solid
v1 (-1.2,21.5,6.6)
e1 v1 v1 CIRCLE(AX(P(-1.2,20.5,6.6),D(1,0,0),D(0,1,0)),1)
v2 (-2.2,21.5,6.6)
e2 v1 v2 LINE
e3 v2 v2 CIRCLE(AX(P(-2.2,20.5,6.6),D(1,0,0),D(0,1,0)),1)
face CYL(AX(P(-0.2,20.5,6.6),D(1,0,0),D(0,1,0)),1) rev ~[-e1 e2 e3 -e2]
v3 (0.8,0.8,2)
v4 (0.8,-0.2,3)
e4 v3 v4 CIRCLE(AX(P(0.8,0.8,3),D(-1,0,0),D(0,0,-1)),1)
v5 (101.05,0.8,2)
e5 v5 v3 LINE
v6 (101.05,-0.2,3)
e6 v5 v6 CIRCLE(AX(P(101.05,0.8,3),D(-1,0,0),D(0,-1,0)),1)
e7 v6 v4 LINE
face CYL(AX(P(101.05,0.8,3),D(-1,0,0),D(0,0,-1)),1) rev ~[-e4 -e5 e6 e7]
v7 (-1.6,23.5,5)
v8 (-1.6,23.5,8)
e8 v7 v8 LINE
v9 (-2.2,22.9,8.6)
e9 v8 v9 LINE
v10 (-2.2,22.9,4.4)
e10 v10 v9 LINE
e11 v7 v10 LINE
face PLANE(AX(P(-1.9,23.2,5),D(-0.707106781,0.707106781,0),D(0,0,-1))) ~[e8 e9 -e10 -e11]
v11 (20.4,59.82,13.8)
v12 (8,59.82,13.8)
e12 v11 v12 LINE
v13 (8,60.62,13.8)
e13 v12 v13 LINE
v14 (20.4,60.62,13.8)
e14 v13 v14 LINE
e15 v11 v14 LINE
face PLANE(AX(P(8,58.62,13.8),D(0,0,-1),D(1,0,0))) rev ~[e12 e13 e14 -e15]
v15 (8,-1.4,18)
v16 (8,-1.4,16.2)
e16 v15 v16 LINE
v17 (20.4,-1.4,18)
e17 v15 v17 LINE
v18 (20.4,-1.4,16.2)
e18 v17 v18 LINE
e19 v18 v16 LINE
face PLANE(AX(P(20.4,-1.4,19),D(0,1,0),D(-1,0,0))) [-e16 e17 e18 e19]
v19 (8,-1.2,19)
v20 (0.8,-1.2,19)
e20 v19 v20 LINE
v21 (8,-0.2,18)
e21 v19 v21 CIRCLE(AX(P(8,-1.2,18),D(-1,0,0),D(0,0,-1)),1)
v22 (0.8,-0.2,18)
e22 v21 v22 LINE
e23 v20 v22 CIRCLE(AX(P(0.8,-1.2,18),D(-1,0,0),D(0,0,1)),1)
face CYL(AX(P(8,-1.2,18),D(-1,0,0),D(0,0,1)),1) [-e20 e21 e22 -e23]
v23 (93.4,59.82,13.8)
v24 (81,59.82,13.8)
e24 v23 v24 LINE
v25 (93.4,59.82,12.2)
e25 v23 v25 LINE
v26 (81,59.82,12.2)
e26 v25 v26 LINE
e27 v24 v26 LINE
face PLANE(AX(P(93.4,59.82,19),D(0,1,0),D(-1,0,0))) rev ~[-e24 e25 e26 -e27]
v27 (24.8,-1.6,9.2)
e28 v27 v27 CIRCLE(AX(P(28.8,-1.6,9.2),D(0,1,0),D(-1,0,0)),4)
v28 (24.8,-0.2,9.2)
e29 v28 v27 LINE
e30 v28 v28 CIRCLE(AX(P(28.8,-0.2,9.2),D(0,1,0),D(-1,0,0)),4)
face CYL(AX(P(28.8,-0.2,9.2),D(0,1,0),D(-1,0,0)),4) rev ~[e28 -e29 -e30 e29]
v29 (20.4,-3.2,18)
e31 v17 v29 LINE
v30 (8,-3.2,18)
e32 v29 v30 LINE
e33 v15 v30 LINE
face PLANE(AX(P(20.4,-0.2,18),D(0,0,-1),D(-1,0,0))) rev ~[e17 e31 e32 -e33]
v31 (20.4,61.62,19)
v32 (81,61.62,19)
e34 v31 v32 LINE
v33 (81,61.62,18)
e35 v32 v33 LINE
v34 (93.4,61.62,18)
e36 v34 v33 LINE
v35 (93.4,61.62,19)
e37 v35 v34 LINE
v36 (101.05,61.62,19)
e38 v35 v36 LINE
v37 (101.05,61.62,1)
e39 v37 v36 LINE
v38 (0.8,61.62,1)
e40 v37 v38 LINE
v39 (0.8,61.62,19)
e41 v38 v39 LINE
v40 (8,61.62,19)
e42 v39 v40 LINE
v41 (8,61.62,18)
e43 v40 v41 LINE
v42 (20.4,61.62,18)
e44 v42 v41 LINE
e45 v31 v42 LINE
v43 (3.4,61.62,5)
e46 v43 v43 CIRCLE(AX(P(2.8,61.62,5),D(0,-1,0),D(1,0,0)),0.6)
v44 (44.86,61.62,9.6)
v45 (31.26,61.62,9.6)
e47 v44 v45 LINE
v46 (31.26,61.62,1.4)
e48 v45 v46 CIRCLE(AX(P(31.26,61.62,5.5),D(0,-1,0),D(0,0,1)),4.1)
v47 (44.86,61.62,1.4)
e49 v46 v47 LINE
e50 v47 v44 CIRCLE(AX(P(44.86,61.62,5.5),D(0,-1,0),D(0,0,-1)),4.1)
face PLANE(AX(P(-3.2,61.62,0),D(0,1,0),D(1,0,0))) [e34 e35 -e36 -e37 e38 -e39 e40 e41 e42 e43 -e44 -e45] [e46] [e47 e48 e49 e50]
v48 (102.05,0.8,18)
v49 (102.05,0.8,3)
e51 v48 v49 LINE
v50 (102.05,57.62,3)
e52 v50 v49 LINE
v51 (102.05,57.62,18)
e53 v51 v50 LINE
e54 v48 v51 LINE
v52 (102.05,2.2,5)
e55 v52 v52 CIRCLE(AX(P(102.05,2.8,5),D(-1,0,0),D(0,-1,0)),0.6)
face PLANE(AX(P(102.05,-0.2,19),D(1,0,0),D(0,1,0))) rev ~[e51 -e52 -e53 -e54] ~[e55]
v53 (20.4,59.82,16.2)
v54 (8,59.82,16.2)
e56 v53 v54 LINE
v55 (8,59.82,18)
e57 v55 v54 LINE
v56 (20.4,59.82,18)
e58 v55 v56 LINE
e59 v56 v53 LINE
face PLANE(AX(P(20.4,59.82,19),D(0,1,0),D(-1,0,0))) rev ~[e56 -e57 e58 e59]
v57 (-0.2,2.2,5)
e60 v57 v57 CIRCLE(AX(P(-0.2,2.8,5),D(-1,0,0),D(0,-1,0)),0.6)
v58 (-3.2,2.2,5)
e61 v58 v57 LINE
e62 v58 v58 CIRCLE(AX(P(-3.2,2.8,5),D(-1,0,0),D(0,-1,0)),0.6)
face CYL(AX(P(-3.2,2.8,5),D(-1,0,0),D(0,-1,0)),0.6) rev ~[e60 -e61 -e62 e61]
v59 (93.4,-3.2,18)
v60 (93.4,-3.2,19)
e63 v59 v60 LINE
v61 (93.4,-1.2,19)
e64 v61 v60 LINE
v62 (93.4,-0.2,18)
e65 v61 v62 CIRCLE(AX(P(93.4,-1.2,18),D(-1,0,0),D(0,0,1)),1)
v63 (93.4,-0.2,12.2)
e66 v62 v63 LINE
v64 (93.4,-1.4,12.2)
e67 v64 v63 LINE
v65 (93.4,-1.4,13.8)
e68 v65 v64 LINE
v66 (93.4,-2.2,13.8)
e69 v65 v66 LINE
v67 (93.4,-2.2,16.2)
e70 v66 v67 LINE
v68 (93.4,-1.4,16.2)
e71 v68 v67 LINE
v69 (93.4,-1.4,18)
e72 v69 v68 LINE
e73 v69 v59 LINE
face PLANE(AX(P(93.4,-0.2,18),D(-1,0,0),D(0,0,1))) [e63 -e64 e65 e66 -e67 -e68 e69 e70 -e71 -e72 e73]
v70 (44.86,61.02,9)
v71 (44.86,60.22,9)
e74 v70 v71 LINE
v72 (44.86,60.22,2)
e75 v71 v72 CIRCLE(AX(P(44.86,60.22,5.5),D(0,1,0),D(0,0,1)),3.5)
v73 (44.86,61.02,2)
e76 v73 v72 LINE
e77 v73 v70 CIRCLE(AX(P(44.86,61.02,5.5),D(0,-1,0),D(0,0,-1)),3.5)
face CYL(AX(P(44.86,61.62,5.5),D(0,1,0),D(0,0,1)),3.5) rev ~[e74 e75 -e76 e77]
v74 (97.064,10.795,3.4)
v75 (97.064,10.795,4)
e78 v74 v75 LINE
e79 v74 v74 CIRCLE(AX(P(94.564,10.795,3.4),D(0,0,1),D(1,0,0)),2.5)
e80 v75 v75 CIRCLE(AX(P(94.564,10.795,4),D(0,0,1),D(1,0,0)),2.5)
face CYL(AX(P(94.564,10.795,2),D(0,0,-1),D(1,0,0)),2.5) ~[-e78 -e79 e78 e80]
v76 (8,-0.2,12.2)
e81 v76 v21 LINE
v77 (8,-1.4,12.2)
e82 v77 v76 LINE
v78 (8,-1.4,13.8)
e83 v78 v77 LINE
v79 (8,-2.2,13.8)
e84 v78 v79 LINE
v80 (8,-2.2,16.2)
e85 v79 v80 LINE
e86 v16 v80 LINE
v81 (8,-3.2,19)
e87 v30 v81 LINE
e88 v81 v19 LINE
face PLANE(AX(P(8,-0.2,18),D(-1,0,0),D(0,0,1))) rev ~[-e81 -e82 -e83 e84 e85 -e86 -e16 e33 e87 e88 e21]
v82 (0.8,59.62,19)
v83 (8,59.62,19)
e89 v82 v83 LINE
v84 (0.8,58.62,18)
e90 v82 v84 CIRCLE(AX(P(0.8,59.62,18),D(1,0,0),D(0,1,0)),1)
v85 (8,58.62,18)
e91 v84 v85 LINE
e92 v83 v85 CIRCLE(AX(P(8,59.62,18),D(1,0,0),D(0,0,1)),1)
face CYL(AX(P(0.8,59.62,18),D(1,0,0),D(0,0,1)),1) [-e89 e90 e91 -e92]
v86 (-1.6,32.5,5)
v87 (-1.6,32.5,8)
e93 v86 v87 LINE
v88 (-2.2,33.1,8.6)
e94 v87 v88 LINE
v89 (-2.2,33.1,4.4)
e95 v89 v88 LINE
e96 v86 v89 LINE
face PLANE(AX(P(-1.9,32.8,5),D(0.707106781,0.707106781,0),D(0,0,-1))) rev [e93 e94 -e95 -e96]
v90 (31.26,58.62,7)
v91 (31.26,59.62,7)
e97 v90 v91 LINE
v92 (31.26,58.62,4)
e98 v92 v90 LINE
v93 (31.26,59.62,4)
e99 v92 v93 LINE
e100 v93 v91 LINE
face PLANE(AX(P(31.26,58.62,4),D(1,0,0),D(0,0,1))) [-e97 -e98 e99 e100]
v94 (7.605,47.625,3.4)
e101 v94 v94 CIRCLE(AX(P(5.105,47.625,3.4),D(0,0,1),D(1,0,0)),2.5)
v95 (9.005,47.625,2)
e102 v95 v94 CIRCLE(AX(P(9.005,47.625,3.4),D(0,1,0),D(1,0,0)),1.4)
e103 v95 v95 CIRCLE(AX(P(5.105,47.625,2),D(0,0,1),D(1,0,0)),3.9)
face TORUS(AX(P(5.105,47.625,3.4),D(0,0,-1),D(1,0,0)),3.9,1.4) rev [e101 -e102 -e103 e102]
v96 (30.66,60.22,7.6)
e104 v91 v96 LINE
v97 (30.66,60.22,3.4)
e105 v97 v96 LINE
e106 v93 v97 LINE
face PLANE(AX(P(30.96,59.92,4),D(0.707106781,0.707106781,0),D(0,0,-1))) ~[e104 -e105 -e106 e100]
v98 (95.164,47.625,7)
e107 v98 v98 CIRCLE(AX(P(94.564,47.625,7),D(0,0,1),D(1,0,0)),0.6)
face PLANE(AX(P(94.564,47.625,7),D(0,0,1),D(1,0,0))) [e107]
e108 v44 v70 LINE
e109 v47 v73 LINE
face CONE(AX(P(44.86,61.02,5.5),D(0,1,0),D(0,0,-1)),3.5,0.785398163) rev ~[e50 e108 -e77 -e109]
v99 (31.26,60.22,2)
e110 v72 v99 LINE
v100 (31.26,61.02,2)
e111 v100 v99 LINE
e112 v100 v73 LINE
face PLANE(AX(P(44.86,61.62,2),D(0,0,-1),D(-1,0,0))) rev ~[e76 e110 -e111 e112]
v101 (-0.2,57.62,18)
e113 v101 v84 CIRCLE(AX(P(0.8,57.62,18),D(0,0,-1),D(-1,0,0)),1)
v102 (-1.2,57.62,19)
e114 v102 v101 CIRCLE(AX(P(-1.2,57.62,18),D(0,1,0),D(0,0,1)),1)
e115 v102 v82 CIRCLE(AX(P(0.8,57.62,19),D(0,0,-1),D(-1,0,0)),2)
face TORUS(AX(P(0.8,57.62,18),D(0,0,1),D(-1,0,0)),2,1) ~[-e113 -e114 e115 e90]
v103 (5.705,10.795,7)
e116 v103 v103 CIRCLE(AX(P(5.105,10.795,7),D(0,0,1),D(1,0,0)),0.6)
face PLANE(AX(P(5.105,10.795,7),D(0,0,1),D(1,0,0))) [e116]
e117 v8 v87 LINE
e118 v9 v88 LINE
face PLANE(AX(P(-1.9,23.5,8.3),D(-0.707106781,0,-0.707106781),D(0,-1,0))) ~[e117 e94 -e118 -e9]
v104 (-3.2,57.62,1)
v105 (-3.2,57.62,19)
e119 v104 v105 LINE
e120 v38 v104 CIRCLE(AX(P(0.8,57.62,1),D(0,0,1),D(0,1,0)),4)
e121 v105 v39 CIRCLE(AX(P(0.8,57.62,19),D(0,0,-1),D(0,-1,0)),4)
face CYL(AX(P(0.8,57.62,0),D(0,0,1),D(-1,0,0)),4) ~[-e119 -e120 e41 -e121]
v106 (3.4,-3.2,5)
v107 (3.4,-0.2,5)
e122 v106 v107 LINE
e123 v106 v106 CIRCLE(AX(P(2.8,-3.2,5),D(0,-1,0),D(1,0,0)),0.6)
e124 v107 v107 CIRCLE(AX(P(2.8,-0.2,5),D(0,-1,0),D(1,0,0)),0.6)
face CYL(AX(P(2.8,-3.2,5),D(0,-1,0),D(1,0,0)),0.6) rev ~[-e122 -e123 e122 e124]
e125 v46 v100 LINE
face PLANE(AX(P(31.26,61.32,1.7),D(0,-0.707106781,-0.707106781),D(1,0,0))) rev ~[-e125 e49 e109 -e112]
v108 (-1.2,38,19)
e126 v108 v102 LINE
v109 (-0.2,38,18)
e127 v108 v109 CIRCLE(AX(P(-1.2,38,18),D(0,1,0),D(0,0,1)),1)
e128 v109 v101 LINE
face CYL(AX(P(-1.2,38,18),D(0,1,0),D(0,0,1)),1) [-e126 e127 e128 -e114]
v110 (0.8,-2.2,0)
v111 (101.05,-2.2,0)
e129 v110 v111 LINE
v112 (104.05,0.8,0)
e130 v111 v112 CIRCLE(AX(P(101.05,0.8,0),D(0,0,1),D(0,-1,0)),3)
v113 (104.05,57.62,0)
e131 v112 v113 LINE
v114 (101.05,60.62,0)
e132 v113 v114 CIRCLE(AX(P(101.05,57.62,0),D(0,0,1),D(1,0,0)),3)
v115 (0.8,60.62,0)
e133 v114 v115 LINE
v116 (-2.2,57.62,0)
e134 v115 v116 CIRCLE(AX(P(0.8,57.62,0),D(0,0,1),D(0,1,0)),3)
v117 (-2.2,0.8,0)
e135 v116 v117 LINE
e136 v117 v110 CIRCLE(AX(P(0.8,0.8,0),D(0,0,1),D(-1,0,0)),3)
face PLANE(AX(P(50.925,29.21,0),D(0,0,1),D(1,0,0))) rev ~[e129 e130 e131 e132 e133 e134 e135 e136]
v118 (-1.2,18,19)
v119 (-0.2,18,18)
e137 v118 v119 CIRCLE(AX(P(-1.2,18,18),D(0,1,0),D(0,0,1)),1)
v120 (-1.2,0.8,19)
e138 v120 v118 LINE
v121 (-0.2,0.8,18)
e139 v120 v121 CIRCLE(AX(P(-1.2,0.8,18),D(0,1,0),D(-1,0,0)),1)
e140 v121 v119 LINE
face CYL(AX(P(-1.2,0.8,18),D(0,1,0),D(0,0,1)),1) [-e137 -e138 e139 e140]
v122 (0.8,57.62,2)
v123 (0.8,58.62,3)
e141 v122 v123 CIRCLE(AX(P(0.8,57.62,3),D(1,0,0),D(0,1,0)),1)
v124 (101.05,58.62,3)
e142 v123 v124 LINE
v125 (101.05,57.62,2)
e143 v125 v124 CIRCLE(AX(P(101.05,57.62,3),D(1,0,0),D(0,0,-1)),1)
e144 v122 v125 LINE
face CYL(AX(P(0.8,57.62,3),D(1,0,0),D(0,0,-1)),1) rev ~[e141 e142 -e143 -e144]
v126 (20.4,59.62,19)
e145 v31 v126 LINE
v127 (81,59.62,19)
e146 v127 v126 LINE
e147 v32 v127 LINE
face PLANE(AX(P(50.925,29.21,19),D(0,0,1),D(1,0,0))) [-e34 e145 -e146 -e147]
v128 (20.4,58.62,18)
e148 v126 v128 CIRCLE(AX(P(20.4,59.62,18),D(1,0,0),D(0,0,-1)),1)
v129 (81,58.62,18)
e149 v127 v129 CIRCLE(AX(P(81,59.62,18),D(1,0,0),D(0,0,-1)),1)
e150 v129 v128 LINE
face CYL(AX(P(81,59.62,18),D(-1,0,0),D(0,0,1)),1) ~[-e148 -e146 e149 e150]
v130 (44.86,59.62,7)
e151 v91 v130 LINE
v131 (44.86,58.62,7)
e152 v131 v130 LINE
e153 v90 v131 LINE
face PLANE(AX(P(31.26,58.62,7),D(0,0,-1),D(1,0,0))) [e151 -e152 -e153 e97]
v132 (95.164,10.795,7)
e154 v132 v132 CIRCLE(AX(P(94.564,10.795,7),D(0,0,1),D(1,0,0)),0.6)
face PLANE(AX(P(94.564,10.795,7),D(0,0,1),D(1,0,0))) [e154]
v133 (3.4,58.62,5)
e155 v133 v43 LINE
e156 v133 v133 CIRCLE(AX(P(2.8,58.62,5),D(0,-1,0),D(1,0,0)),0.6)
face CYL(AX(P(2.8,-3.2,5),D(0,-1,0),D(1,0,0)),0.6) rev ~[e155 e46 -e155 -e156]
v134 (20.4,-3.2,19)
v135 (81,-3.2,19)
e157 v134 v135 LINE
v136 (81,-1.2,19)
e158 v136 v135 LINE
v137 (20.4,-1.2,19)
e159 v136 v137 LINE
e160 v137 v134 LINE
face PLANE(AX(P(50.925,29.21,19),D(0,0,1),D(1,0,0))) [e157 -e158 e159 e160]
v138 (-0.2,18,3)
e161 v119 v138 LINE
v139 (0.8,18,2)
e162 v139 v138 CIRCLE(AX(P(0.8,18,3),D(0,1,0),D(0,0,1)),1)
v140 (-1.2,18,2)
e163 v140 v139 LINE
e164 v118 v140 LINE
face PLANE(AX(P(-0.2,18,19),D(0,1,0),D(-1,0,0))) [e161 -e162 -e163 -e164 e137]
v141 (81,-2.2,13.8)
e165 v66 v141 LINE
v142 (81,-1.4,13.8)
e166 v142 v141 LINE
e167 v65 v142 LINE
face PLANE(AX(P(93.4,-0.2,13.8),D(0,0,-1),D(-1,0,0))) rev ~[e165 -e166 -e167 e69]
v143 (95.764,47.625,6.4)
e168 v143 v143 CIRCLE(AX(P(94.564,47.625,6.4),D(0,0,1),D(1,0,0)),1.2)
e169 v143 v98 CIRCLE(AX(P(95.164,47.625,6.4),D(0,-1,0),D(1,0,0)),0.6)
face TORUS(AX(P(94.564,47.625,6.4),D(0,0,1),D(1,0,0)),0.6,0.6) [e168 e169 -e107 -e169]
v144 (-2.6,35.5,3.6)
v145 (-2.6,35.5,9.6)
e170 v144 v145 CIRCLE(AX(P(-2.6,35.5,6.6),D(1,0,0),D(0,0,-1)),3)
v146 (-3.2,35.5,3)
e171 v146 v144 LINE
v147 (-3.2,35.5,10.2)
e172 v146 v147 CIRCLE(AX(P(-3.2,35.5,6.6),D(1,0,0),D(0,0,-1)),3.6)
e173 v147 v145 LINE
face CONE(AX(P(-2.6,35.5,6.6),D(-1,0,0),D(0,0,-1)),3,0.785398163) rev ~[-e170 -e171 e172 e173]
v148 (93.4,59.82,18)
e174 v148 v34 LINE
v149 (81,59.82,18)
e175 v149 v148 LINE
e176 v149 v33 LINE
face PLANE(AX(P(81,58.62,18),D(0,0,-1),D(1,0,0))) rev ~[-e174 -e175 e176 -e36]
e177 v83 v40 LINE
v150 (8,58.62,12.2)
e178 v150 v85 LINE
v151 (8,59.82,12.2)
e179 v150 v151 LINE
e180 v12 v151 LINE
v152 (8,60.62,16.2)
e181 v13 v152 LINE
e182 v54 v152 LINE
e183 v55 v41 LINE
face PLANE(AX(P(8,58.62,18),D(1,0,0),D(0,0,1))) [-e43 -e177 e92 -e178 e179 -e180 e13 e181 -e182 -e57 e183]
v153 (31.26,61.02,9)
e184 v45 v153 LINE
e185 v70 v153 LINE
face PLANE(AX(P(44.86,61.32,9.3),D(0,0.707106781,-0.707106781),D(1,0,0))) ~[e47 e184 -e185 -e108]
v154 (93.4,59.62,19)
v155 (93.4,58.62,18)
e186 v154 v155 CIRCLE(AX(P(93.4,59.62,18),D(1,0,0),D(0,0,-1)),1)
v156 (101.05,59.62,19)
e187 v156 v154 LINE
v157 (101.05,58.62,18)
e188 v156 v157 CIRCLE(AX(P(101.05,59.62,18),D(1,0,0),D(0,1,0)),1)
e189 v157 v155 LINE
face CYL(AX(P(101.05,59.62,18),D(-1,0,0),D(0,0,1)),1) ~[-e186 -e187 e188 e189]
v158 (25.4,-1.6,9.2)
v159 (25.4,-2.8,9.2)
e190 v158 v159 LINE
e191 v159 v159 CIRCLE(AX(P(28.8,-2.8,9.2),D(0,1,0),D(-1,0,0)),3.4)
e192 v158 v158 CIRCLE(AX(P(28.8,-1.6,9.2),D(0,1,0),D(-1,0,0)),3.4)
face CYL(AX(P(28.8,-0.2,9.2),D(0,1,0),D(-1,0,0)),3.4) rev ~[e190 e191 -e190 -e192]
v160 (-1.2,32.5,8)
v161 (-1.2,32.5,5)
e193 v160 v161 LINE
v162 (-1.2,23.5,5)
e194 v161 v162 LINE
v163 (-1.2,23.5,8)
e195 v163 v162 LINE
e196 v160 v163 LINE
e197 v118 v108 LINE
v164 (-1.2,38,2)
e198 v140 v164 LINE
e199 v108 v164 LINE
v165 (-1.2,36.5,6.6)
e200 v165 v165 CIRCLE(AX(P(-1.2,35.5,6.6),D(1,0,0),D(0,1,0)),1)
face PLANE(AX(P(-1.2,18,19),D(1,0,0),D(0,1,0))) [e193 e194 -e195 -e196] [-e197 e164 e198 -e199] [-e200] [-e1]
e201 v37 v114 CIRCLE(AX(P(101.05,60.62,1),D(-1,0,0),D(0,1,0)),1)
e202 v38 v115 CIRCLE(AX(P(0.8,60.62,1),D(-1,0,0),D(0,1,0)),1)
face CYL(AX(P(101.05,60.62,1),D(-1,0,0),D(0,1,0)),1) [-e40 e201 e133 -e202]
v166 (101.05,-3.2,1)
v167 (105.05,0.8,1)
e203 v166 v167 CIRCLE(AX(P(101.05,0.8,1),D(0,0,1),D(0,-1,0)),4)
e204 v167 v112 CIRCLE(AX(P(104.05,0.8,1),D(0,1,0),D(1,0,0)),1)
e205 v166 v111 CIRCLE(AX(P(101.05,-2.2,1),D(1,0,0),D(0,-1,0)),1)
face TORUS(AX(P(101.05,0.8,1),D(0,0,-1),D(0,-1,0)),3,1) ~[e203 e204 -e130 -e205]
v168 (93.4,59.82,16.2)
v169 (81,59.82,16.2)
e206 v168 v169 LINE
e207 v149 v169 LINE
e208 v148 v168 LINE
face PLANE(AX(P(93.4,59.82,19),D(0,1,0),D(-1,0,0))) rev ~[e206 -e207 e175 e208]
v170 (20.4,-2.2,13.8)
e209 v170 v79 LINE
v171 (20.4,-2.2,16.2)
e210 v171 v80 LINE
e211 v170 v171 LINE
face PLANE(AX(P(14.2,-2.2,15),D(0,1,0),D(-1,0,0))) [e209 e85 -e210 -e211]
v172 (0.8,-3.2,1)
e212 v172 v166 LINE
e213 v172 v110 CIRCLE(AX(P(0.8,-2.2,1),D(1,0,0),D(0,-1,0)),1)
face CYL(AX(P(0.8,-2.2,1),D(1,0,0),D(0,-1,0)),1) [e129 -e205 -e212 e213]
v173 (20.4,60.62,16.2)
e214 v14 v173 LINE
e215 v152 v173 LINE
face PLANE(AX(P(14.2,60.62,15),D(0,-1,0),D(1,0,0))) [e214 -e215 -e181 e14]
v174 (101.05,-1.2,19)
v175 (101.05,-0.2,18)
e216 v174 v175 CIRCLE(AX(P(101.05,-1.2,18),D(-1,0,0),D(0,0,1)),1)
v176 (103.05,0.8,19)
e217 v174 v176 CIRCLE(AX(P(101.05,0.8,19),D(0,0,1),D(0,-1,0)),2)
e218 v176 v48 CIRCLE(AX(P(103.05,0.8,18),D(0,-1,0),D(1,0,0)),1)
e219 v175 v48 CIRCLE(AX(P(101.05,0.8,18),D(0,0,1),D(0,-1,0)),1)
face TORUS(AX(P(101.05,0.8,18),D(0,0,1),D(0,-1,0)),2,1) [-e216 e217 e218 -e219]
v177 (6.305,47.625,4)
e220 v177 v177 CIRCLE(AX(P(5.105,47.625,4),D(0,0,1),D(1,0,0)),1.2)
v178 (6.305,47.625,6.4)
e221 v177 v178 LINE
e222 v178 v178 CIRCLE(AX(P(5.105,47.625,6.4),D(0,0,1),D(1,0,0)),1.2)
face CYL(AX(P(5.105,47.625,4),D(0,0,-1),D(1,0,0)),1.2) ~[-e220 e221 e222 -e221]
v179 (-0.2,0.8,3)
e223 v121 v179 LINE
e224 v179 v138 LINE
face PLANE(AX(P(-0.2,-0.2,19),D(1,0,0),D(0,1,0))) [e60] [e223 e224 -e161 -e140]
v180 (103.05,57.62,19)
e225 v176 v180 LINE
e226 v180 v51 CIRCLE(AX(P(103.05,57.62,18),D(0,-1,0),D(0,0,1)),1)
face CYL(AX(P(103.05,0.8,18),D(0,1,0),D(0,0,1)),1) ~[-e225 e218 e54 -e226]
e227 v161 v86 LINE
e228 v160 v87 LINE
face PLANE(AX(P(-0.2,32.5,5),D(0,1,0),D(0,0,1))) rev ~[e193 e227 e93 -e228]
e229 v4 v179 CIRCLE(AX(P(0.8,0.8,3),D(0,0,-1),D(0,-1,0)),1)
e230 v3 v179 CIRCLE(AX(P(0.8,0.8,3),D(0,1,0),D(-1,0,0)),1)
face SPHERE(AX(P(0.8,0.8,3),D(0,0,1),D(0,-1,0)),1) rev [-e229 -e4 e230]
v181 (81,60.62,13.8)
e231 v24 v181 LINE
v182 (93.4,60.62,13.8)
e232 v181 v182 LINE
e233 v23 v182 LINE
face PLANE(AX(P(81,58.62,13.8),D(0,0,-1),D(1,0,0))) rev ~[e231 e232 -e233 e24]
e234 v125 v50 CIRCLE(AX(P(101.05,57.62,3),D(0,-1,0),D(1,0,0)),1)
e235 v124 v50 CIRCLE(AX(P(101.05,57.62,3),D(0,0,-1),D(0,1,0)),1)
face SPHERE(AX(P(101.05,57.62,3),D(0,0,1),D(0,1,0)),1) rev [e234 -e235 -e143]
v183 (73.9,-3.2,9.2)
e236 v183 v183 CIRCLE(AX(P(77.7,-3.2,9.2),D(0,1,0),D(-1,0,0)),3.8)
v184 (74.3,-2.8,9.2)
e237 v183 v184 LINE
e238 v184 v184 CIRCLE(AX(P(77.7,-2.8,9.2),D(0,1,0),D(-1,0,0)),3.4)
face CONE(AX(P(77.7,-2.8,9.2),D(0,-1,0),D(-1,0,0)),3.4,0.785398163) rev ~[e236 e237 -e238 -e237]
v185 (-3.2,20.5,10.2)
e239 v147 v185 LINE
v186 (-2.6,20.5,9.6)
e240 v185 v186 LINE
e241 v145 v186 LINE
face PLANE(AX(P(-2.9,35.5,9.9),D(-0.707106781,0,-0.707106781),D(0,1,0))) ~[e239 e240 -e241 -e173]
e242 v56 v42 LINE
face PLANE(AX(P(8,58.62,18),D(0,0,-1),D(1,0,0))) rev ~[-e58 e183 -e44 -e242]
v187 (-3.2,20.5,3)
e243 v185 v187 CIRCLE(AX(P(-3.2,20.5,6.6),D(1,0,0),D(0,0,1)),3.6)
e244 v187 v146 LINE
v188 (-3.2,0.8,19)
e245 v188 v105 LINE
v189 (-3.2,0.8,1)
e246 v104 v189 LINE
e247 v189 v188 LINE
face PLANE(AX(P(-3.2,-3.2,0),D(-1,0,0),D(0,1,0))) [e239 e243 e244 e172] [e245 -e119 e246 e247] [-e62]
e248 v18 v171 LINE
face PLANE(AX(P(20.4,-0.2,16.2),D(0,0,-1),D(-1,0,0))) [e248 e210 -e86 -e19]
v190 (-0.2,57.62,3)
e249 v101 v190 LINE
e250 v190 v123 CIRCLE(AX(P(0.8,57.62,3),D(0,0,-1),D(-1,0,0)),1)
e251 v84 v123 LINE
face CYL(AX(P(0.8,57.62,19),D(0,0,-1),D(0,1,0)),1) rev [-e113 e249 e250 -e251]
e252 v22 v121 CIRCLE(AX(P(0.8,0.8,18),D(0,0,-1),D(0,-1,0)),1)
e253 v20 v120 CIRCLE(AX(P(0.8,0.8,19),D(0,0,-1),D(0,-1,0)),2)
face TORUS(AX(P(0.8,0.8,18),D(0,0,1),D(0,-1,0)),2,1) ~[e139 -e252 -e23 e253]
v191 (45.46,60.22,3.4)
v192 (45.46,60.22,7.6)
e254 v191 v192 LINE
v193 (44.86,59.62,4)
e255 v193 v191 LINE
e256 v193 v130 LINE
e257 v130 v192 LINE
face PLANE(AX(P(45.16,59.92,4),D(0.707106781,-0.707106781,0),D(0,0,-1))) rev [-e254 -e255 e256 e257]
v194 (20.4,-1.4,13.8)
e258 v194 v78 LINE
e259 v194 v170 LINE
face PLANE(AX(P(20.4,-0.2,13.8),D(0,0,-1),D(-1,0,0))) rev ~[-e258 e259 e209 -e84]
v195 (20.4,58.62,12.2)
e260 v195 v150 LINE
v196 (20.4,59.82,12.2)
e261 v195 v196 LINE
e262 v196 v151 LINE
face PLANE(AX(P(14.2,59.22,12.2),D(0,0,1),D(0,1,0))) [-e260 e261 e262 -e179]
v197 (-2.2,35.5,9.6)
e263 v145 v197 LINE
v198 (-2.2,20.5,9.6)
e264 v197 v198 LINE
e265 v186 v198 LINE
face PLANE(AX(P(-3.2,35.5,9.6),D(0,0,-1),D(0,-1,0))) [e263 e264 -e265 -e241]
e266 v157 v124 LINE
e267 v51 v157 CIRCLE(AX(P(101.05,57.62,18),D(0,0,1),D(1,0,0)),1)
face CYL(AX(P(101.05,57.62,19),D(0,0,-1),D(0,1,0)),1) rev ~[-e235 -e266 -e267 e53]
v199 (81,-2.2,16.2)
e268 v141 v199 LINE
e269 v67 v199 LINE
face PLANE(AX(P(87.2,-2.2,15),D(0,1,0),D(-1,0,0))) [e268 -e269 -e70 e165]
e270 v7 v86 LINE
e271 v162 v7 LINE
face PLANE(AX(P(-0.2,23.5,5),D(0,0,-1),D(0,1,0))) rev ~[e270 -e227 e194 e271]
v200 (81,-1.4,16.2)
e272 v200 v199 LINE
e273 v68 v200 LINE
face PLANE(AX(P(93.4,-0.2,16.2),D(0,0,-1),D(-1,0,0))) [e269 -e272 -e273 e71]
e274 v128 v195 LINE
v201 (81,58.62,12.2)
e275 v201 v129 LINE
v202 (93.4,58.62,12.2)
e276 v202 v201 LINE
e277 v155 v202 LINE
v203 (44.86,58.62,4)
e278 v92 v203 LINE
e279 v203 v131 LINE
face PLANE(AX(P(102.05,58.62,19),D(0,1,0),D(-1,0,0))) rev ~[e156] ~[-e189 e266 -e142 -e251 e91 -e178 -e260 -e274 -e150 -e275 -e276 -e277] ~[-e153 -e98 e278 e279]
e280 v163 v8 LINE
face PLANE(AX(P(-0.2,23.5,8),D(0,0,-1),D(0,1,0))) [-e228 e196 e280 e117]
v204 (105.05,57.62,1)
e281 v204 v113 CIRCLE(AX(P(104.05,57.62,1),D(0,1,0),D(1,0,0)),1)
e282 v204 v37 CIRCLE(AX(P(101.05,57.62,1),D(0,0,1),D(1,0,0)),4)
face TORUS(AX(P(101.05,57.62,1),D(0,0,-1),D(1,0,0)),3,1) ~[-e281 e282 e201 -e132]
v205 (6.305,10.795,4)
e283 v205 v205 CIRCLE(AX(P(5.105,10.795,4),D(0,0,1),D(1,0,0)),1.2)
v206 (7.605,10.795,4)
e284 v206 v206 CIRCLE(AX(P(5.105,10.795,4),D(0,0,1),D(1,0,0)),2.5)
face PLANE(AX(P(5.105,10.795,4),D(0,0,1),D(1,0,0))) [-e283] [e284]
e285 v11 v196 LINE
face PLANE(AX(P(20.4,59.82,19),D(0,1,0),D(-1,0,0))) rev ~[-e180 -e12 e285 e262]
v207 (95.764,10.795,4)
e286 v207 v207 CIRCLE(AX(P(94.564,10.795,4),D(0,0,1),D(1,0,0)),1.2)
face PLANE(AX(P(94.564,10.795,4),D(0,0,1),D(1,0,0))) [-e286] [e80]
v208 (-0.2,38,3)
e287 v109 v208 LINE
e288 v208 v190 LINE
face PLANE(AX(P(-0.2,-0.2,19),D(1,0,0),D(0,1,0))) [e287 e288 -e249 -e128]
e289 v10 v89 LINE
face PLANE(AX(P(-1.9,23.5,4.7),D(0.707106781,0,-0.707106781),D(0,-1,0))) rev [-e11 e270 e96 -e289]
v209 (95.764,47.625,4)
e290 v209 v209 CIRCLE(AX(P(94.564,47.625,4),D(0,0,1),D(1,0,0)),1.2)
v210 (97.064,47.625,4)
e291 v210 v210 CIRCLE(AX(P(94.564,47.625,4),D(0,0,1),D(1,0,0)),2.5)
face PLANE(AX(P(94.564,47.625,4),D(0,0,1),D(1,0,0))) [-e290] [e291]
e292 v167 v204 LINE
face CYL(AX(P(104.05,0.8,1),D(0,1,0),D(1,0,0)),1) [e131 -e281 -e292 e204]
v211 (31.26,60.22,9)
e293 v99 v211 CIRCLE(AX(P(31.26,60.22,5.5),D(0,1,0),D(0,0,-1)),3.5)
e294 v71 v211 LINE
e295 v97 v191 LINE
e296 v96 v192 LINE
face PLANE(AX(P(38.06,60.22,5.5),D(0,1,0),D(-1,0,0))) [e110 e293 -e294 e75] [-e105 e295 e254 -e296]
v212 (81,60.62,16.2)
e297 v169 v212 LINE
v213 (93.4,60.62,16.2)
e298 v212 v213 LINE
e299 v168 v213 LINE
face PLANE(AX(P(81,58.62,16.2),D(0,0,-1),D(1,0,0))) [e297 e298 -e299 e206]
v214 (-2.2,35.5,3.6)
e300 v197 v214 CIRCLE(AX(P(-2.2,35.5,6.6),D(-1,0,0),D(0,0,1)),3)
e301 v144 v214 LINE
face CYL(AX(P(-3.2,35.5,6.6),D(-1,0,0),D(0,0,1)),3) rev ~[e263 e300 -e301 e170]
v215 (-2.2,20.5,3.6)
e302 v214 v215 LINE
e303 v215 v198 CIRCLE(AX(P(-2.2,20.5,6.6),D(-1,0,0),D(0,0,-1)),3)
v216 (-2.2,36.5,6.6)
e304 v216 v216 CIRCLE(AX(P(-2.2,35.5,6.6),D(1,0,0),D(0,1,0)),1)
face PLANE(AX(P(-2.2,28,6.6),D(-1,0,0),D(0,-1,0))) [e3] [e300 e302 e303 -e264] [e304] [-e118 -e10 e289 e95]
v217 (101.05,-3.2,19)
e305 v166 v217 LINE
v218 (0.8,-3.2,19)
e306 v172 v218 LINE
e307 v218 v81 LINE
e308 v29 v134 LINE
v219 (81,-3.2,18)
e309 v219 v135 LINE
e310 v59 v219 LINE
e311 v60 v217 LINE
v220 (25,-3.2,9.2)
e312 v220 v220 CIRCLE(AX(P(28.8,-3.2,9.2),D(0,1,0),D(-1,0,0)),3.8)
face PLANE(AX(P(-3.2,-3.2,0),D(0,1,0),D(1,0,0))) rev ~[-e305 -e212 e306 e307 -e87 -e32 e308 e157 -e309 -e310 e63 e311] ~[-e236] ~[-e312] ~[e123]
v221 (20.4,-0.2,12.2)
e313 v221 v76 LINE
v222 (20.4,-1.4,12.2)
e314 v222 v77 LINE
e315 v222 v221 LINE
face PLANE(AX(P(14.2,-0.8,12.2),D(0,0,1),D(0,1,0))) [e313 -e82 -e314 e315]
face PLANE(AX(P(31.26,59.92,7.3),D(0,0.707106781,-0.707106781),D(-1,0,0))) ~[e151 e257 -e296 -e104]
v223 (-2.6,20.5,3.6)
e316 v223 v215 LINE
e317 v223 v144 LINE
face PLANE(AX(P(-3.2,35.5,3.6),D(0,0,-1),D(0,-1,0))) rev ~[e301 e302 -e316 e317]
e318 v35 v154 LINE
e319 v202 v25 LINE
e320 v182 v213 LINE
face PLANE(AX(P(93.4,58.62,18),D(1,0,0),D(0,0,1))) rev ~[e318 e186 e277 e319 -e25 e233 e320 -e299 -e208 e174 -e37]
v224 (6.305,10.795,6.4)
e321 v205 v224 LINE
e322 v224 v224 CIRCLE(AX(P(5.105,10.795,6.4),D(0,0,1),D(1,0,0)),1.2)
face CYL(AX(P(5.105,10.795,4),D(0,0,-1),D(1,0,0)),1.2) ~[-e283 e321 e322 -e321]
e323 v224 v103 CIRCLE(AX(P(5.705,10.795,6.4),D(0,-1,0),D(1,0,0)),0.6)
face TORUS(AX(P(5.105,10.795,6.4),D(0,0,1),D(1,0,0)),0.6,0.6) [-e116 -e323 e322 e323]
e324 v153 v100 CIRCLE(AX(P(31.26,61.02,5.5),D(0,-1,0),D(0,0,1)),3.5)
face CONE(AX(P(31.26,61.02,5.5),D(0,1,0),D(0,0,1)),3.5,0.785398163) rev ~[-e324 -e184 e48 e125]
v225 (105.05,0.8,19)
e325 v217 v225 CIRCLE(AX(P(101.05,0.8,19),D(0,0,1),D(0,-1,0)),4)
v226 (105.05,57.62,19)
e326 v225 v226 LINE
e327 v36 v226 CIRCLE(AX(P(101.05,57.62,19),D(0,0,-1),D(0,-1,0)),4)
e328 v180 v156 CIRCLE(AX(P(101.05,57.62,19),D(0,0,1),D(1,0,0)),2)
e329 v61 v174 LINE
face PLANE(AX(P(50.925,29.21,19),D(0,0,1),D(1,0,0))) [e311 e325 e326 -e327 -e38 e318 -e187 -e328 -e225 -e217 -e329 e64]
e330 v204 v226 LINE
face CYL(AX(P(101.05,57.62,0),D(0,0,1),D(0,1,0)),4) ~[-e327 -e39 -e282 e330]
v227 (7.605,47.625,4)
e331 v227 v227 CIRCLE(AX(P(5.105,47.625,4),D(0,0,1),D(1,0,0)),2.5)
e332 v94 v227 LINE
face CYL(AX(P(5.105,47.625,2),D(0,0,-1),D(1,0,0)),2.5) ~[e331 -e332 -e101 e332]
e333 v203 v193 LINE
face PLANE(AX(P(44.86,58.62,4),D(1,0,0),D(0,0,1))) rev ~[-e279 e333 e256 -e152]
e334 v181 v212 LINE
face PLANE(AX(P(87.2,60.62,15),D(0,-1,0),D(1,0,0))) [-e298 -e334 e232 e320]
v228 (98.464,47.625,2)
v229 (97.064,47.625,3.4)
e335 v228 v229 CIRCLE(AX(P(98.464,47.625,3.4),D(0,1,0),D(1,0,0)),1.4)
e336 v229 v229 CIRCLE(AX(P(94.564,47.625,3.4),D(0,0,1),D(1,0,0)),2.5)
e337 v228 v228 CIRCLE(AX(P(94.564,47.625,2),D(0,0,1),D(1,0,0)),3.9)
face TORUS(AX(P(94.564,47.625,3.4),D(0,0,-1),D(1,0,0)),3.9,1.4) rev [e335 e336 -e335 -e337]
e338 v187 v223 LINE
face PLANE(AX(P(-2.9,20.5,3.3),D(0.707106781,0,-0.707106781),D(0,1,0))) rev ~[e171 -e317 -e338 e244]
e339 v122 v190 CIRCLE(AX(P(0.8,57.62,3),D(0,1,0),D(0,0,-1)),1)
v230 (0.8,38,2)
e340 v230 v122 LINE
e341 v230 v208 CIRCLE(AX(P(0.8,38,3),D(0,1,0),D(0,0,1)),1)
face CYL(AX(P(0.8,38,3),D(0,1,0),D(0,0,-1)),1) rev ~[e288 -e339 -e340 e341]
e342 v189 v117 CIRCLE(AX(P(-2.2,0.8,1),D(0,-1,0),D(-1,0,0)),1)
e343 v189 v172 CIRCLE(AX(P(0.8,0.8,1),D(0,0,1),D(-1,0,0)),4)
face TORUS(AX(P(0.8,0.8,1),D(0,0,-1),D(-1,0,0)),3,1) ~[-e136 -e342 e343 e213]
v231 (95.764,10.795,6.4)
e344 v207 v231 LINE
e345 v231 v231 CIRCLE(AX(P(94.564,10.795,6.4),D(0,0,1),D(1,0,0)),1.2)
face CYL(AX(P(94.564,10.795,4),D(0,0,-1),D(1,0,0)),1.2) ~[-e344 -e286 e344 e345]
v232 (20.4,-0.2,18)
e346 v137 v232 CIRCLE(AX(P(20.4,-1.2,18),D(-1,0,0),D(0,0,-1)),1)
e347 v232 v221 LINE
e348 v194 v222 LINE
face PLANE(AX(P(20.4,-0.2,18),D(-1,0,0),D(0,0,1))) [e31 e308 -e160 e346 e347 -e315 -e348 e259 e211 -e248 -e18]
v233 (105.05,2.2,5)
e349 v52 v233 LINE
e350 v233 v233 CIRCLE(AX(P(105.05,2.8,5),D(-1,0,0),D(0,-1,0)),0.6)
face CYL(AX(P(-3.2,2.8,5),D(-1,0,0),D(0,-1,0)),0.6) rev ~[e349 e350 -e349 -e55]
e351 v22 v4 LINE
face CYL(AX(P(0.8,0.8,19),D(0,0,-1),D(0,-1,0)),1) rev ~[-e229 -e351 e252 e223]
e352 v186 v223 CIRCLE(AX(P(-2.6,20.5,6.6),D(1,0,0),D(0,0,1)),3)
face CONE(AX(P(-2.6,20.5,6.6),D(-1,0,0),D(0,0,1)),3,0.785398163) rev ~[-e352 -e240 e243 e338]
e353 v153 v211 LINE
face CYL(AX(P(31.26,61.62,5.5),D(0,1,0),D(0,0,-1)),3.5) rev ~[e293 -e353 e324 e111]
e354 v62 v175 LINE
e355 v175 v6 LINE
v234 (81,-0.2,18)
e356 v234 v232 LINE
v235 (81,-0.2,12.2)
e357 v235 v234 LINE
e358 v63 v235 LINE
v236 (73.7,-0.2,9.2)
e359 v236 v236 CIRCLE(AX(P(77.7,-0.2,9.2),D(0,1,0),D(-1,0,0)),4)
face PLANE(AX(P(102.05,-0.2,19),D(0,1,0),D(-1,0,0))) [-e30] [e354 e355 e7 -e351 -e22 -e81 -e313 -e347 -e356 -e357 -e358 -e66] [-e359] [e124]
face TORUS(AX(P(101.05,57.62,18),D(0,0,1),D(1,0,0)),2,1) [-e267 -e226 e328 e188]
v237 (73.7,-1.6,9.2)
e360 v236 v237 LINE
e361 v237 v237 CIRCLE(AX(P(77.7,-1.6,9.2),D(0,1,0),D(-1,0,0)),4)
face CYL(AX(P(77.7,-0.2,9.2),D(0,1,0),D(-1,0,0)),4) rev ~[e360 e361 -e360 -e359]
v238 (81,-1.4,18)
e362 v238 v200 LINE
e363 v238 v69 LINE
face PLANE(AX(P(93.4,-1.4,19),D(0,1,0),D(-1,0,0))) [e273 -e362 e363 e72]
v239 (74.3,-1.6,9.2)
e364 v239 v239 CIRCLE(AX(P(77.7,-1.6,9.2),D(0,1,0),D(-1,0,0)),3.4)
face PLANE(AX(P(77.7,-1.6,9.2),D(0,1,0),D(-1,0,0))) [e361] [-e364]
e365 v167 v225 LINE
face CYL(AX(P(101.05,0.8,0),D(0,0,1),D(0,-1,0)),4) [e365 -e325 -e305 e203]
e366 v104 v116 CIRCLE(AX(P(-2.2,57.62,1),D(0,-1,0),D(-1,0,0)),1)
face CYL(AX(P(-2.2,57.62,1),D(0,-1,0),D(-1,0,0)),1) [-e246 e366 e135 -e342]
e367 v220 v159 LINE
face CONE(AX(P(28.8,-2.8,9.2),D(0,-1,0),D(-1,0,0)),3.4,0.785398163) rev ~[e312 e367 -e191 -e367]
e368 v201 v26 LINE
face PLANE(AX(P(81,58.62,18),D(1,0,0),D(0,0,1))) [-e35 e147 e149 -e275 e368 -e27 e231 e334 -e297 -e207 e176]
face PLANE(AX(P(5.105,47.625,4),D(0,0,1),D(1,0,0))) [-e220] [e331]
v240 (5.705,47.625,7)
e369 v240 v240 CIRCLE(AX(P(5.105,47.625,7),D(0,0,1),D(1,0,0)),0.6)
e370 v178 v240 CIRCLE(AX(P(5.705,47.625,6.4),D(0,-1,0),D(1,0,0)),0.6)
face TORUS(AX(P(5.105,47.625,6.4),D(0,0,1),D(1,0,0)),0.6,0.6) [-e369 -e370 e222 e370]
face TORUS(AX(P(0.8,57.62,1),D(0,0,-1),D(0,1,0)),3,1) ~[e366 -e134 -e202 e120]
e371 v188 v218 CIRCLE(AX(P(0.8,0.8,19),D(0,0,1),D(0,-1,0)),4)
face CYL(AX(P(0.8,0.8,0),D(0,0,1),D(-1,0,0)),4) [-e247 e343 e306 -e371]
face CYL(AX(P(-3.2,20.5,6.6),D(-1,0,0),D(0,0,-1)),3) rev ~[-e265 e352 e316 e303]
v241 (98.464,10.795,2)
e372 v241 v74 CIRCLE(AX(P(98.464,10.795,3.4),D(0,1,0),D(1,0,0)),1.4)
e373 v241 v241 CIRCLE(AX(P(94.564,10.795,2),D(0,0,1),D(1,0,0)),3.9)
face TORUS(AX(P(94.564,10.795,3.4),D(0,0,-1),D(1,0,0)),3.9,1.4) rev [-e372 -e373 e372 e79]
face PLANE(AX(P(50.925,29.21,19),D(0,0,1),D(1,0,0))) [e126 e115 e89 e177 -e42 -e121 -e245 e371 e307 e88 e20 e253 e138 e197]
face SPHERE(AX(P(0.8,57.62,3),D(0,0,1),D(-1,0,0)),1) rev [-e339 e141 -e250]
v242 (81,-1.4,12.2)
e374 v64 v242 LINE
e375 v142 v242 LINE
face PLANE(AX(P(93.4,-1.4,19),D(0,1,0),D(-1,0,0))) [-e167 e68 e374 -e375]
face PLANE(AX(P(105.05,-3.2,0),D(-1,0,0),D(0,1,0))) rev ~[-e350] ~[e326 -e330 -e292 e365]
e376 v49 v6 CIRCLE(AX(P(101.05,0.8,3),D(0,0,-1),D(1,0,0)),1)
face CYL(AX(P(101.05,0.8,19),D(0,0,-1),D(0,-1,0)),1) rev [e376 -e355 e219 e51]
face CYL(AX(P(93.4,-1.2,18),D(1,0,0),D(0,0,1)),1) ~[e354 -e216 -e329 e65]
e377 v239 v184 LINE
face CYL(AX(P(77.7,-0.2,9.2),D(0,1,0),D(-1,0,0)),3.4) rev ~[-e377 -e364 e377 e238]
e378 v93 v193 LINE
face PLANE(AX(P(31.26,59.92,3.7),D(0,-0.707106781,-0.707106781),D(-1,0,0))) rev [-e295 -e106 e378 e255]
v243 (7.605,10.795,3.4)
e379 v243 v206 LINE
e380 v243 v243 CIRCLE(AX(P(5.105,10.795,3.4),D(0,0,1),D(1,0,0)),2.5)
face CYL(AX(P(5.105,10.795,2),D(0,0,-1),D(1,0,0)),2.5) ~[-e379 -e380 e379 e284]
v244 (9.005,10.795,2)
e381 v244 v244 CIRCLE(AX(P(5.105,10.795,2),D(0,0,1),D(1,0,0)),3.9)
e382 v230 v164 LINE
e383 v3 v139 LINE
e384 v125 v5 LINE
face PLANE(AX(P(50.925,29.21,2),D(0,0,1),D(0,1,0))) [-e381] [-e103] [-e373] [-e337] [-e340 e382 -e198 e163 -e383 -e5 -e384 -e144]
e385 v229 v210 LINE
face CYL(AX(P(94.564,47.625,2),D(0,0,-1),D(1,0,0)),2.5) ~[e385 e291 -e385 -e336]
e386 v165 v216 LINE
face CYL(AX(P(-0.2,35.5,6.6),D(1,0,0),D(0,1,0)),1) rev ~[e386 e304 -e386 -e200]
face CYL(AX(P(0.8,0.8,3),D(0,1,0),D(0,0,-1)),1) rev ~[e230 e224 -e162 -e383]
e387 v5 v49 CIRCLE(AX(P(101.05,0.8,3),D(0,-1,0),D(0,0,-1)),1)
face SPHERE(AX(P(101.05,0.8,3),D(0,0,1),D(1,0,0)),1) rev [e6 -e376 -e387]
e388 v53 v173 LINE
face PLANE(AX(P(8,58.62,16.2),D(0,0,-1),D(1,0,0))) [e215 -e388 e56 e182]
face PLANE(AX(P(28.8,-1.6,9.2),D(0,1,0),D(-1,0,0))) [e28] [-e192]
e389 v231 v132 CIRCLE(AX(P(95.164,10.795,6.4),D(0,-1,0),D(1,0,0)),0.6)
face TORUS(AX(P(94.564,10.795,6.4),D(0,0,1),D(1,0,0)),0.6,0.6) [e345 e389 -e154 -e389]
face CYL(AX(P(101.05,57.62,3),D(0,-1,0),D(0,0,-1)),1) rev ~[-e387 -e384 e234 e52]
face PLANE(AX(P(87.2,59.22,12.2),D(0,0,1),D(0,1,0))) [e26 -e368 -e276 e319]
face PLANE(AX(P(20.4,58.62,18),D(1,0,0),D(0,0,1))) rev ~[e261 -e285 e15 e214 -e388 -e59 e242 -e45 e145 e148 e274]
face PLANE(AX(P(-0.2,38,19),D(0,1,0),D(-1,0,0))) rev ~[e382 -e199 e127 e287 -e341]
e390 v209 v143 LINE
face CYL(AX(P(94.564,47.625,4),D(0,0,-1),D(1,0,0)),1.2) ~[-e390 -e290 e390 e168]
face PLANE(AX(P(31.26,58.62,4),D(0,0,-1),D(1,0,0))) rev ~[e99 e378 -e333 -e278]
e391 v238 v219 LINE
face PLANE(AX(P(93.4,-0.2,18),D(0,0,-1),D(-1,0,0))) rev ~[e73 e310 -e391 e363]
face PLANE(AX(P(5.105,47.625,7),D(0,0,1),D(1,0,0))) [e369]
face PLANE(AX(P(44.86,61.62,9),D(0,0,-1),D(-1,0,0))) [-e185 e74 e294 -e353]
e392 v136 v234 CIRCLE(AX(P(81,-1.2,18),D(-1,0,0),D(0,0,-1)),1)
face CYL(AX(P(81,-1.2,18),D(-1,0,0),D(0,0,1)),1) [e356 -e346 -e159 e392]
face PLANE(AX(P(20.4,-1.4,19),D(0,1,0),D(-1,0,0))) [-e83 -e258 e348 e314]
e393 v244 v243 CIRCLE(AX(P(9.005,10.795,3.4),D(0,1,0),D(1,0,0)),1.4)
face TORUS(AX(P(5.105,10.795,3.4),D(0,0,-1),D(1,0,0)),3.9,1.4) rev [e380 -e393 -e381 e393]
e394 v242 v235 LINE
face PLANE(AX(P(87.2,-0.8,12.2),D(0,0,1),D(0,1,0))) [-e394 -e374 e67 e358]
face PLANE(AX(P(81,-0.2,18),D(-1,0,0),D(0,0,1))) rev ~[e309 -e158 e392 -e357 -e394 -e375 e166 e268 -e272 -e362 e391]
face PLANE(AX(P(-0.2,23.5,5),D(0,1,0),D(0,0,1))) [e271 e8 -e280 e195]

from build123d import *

# Parameters (mm, degrees)
SKETCH001_W     = 108.25
SKETCH001_H     = 64.82
PAD_DEPTH       = 19
SKETCH002_W     = 58.82
SKETCH002_H     = 102.25
POCKET_DEPTH    = 17
SKETCH003_R     = 2.5
PAD001_DEPTH    = 2
SKETCH004_R     = 1.2
PAD002_DEPTH    = 3
SKETCH005_W     = 12.4
SKETCH005_H     = 1
SKETCH005_W_2   = 13.6
SKETCH005_H_2   = 3
POCKET001_DEPTH = 3.001
SKETCH006_R     = 3.4
SKETCH006_W     = 12.4
SKETCH006_H     = 1
POCKET002_DEPTH = 3.001
SKETCH007_R     = 1
SKETCH007_W     = 9
SKETCH007_H     = 3
POCKET003_DEPTH = 3.001
SKETCH008_W     = 1.2
SKETCH008_H     = 12.4
POCKET004_DEPTH = 6.8
SKETCH009_W     = 12.4
SKETCH009_H     = 2.4
POCKET005_DEPTH = 2
SKETCH010_W     = 12.4
SKETCH010_H     = 2.4
POCKET006_DEPTH = 2
SKETCH011_R     = 4
POCKET007_DEPTH = 1.4
POCKET010_DEPTH = 1.4
POCKET011_DEPTH = 1
SKETCH028_W     = 20
SKETCH028_H     = 1
POCKET012_DEPTH = 17
FILLET001_R     = 4
FILLET002_R     = 1
FILLET003_R     = 1
CHAMFER_SIZE    = 0.6
CHAMFER001_SIZE = 0.6
CHAMFER002_SIZE = 0.4
FILLET010_R     = 1.4
FILLET013_R     = 1
FILLET014_R     = 1
FILLET016_R     = 0.6
SKETCH031_R     = 0.6
POCKET015_DEPTH = 64.821
SKETCH032_R     = 0.6
POCKET016_DEPTH = 108.251


with BuildPart() as part:
    # Sketch001 → Pad (new body)
    with BuildSketch(Plane.XY):
        with Locations((50.925, 29.21)):
            Rectangle(SKETCH001_W, SKETCH001_H)
    extrude(amount=PAD_DEPTH)

    # Sketch002 (on DatumPlane) → Pocket (cut)
    with BuildSketch(Plane(origin=(50.925, 29.21, 19), x_dir=(0, 1, 0), z_dir=(0, 0, 1))):
        Rectangle(SKETCH002_W, SKETCH002_H)
    extrude(amount=-POCKET_DEPTH, mode=Mode.SUBTRACT)

    # Sketch003 (on DatumPlane) → Pad001 (join)
    with BuildSketch(Plane.XY.offset(2)):
        with Locations((5.105, 47.625)):
            Circle(SKETCH003_R)
        with Locations((94.564, 47.625)):
            Circle(SKETCH003_R)
        with Locations((94.564, 10.795)):
            Circle(SKETCH003_R)
        with Locations((5.105, 10.795)):
            Circle(SKETCH003_R)
    extrude(amount=PAD001_DEPTH)

    # Sketch004 (on DatumPlane) → Pad002 (join)
    with BuildSketch(Plane.XY.offset(4)):
        with Locations((5.105, 47.625)):
            Circle(SKETCH004_R)
        with Locations((94.564, 47.625)):
            Circle(SKETCH004_R)
        with Locations((94.564, 10.795)):
            Circle(SKETCH004_R)
        with Locations((5.105, 10.795)):
            Circle(SKETCH004_R)
    extrude(amount=PAD002_DEPTH)

    # Sketch005 (on DatumPlane) → Pocket001 (cut, through all)
    with BuildSketch(Plane.XZ.offset(-58.62)):
        with Locations((14.2, 18.5)):
            Rectangle(SKETCH005_W, SKETCH005_H)
        with Locations((87.2, 18.5)):
            Rectangle(SKETCH005_W, SKETCH005_H)
        with Locations((38.06, 5.5)):
            Rectangle(SKETCH005_W_2, SKETCH005_H_2)
    extrude(amount=-POCKET001_DEPTH, mode=Mode.SUBTRACT)

    # Sketch006 (on DatumPlane) → Pocket002 (cut, through all)
    with BuildSketch(Plane(origin=(0, -0.2, 0), x_dir=(-1, 0, 0), z_dir=(0, 1, 0))):
        with Locations((-77.7, 9.2)):
            Circle(SKETCH006_R)
        with Locations((-28.8, 9.2)):
            Circle(SKETCH006_R)
        with Locations((-87.2, 18.5)):
            Rectangle(SKETCH006_W, SKETCH006_H)
        with Locations((-14.2, 18.5)):
            Rectangle(SKETCH006_W, SKETCH006_H)
    extrude(amount=-POCKET002_DEPTH, mode=Mode.SUBTRACT)

    # Sketch007 (on DatumPlane) → Pocket003 (cut, through all)
    with BuildSketch(Plane.YZ.offset(-0.2)):
        with Locations((20.5, 6.6)):
            Circle(SKETCH007_R)
        with Locations((35.5, 6.6)):
            Circle(SKETCH007_R)
        with Locations((28, 6.5)):
            Rectangle(SKETCH007_W, SKETCH007_H)
    extrude(amount=-POCKET003_DEPTH, mode=Mode.SUBTRACT)

    # Sketch008 (on DatumPlane) → Pocket004 (cut)
    with BuildSketch(Plane(origin=(50.925, 29.21, 19), x_dir=(0, 1, 0), z_dir=(0, 0, 1))):
        with Locations((-30.01, 36.725)):
            Rectangle(SKETCH008_W, SKETCH008_H)
        with Locations((30.01, 36.725)):
            Rectangle(SKETCH008_W, SKETCH008_H)
        with Locations((30.01, -36.275)):
            Rectangle(SKETCH008_W, SKETCH008_H)
        with Locations((-30.01, -36.275)):
            Rectangle(SKETCH008_W, SKETCH008_H)
    extrude(amount=-POCKET004_DEPTH, mode=Mode.SUBTRACT)

    # Sketch009 (on DatumPlane) → Pocket005 (cut)
    with BuildSketch(Plane.XZ.offset(-58.62)):
        with Locations((14.2, 15)):
            Rectangle(SKETCH009_W, SKETCH009_H)
        with Locations((87.2, 15)):
            Rectangle(SKETCH009_W, SKETCH009_H)
    extrude(amount=-POCKET005_DEPTH, mode=Mode.SUBTRACT)

    # Sketch010 (on DatumPlane) → Pocket006 (cut)
    with BuildSketch(Plane(origin=(0, -0.2, 0), x_dir=(-1, 0, 0), z_dir=(0, 1, 0))):
        with Locations((-87.2, 15)):
            Rectangle(SKETCH010_W, SKETCH010_H)
        with Locations((-14.2, 15)):
            Rectangle(SKETCH010_W, SKETCH010_H)
    extrude(amount=-POCKET006_DEPTH, mode=Mode.SUBTRACT)

    # Sketch011 (on DatumPlane) → Pocket007 (cut)
    with BuildSketch(Plane(origin=(0, -0.2, 0), x_dir=(-1, 0, 0), z_dir=(0, 1, 0))):
        with Locations((-77.7, 9.2)):
            Circle(SKETCH011_R)
        with Locations((-28.8, 9.2)):
            Circle(SKETCH011_R)
    extrude(amount=-POCKET007_DEPTH, mode=Mode.SUBTRACT)

    # Sketch024 (on Face1 of Pocket007) → Pocket010 (cut)
    with BuildSketch(Plane(origin=(0, 61.62, 0), x_dir=(-1, 0, 0), z_dir=(0, 1, 0))):
        with BuildLine():
            ThreePointArc((-44.86, 9), (-48.36, 5.5), (-44.86, 2))
            Line((-44.86, 2), (-31.26, 2))
            ThreePointArc((-31.26, 2), (-27.76, 5.5), (-31.26, 9))
            Line((-44.86, 9), (-31.26, 9))
        make_face()
    extrude(amount=-POCKET010_DEPTH, mode=Mode.SUBTRACT)

    # Sketch025 (on Face3 of Pocket010) → Pocket011 (cut)
    with BuildSketch(Plane(origin=(-3.2, 0, 0), x_dir=(0, -1, 0), z_dir=(-1, 0, 0))):
        with BuildLine():
            ThreePointArc((-35.5, 9.6), (-38.5, 6.6), (-35.5, 3.6))
            Line((-35.5, 3.6), (-20.5, 3.6))
            ThreePointArc((-20.5, 3.6), (-17.5, 6.6), (-20.5, 9.6))
            Line((-35.5, 9.6), (-20.5, 9.6))
        make_face()
    extrude(amount=-POCKET011_DEPTH, mode=Mode.SUBTRACT)

    # Sketch028 (on DatumPlane) → Pocket012 (cut)
    with BuildSketch(Plane(origin=(50.925, 29.21, 19), x_dir=(0, 1, 0), z_dir=(0, 0, 1))):
        with Locations((-1.21, 51.625)):
            Rectangle(SKETCH028_W, SKETCH028_H)
    extrude(amount=-POCKET012_DEPTH, mode=Mode.SUBTRACT)

    # Fillet001
    fillet001_edges = [part.edges().sort_by_distance(p)[0] for p in [
        (-3.2, -3.2, 9.5),
        (-3.2, 61.62, 9.5),
        (105.05, -3.2, 9.5),
        (105.05, 61.62, 9.5),
    ]]
    fillet(fillet001_edges, radius=FILLET001_R)

    # Fillet002
    fillet002_edges = [part.edges().sort_by_distance(p)[0] for p in [
        (-0.2, 58.62, 10.5),
        (102.05, 58.62, 10.5),
        (-0.2, -0.2, 10.5),
        (102.05, -0.2, 10.5),
    ]]
    fillet(fillet002_edges, radius=FILLET002_R)

    # Fillet003
    fillet003_edges = [part.edges().sort_by_distance(p)[0] for p in [
        (50.925, -3.2, 0),
    ]]
    fillet(fillet003_edges, radius=FILLET003_R)

    # Chamfer
    chamfer_edges = [part.edges().sort_by_distance(p)[0] for p in [
        (-3.2, 28, 9.6),
        (-2.2, 28, 8),
        (-2.2, 23.5, 6.5),
        (-2.2, 32.5, 6.5),
        (-2.2, 28, 5),
    ]]
    chamfer(chamfer_edges, length=CHAMFER_SIZE)

    # Chamfer001
    chamfer001_edges = [part.edges().sort_by_distance(p)[0] for p in [
        (38.06, 61.62, 9),
        (44.86, 60.22, 5.5),
        (38.06, 60.22, 7),
        (38.06, 60.22, 4),
        (31.26, 60.22, 5.5),
    ]]
    chamfer(chamfer001_edges, length=CHAMFER001_SIZE)

    # Chamfer002
    chamfer002_edges = [part.edges().sort_by_distance(p)[0] for p in [
        (81.1, -3.2, 9.2),
        (32.2, -3.2, 9.2),
    ]]
    chamfer(chamfer002_edges, length=CHAMFER002_SIZE)

    # Fillet010
    fillet010_edges = [part.edges().sort_by_distance(p)[0] for p in [
        (92.064, 10.795, 2),
        (2.605, 10.795, 2),
        (2.605, 47.625, 2),
        (92.064, 47.625, 2),
    ]]
    fillet(fillet010_edges, radius=FILLET010_R)

    # Fillet013
    fillet013_edges = [part.edges().sort_by_distance(p)[0] for p in [
        (50.925, -0.2, 2),
    ]]
    fillet(fillet013_edges, radius=FILLET013_R)

    # Fillet014
    fillet014_edges = [part.edges().sort_by_distance(p)[0] for p in [
        (102.05, 29.21, 19),
        (50.7, 58.62, 19),
        (-0.2, 9.4, 19),
        (50.7, -0.2, 19),
        (-0.2, 47.81, 19),
    ]]
    fillet(fillet014_edges, radius=FILLET014_R)

    # Fillet016
    fillet016_edges = [part.edges().sort_by_distance(p)[0] for p in [
        (93.364, 47.625, 7),
        (93.364, 10.795, 7),
        (3.905, 10.795, 7),
        (3.905, 47.625, 7),
    ]]
    fillet(fillet016_edges, radius=FILLET016_R)

    # Sketch031 (on Face97 of Fillet016) → Pocket015 (cut, through all)
    with BuildSketch(Plane.XZ.offset(3.2)):
        with Locations((2.8, 5)):
            Circle(SKETCH031_R)
    extrude(amount=-POCKET015_DEPTH, mode=Mode.SUBTRACT)

    # Sketch032 (on Face97 of Pocket015) → Pocket016 (cut, through all)
    with BuildSketch(Plane(origin=(-3.2, 0, 0), x_dir=(0, -1, 0), z_dir=(-1, 0, 0))):
        with Locations((-2.8, 5)):
            Circle(SKETCH032_R)
    extrude(amount=-POCKET016_DEPTH, mode=Mode.SUBTRACT)


solid = part.part
